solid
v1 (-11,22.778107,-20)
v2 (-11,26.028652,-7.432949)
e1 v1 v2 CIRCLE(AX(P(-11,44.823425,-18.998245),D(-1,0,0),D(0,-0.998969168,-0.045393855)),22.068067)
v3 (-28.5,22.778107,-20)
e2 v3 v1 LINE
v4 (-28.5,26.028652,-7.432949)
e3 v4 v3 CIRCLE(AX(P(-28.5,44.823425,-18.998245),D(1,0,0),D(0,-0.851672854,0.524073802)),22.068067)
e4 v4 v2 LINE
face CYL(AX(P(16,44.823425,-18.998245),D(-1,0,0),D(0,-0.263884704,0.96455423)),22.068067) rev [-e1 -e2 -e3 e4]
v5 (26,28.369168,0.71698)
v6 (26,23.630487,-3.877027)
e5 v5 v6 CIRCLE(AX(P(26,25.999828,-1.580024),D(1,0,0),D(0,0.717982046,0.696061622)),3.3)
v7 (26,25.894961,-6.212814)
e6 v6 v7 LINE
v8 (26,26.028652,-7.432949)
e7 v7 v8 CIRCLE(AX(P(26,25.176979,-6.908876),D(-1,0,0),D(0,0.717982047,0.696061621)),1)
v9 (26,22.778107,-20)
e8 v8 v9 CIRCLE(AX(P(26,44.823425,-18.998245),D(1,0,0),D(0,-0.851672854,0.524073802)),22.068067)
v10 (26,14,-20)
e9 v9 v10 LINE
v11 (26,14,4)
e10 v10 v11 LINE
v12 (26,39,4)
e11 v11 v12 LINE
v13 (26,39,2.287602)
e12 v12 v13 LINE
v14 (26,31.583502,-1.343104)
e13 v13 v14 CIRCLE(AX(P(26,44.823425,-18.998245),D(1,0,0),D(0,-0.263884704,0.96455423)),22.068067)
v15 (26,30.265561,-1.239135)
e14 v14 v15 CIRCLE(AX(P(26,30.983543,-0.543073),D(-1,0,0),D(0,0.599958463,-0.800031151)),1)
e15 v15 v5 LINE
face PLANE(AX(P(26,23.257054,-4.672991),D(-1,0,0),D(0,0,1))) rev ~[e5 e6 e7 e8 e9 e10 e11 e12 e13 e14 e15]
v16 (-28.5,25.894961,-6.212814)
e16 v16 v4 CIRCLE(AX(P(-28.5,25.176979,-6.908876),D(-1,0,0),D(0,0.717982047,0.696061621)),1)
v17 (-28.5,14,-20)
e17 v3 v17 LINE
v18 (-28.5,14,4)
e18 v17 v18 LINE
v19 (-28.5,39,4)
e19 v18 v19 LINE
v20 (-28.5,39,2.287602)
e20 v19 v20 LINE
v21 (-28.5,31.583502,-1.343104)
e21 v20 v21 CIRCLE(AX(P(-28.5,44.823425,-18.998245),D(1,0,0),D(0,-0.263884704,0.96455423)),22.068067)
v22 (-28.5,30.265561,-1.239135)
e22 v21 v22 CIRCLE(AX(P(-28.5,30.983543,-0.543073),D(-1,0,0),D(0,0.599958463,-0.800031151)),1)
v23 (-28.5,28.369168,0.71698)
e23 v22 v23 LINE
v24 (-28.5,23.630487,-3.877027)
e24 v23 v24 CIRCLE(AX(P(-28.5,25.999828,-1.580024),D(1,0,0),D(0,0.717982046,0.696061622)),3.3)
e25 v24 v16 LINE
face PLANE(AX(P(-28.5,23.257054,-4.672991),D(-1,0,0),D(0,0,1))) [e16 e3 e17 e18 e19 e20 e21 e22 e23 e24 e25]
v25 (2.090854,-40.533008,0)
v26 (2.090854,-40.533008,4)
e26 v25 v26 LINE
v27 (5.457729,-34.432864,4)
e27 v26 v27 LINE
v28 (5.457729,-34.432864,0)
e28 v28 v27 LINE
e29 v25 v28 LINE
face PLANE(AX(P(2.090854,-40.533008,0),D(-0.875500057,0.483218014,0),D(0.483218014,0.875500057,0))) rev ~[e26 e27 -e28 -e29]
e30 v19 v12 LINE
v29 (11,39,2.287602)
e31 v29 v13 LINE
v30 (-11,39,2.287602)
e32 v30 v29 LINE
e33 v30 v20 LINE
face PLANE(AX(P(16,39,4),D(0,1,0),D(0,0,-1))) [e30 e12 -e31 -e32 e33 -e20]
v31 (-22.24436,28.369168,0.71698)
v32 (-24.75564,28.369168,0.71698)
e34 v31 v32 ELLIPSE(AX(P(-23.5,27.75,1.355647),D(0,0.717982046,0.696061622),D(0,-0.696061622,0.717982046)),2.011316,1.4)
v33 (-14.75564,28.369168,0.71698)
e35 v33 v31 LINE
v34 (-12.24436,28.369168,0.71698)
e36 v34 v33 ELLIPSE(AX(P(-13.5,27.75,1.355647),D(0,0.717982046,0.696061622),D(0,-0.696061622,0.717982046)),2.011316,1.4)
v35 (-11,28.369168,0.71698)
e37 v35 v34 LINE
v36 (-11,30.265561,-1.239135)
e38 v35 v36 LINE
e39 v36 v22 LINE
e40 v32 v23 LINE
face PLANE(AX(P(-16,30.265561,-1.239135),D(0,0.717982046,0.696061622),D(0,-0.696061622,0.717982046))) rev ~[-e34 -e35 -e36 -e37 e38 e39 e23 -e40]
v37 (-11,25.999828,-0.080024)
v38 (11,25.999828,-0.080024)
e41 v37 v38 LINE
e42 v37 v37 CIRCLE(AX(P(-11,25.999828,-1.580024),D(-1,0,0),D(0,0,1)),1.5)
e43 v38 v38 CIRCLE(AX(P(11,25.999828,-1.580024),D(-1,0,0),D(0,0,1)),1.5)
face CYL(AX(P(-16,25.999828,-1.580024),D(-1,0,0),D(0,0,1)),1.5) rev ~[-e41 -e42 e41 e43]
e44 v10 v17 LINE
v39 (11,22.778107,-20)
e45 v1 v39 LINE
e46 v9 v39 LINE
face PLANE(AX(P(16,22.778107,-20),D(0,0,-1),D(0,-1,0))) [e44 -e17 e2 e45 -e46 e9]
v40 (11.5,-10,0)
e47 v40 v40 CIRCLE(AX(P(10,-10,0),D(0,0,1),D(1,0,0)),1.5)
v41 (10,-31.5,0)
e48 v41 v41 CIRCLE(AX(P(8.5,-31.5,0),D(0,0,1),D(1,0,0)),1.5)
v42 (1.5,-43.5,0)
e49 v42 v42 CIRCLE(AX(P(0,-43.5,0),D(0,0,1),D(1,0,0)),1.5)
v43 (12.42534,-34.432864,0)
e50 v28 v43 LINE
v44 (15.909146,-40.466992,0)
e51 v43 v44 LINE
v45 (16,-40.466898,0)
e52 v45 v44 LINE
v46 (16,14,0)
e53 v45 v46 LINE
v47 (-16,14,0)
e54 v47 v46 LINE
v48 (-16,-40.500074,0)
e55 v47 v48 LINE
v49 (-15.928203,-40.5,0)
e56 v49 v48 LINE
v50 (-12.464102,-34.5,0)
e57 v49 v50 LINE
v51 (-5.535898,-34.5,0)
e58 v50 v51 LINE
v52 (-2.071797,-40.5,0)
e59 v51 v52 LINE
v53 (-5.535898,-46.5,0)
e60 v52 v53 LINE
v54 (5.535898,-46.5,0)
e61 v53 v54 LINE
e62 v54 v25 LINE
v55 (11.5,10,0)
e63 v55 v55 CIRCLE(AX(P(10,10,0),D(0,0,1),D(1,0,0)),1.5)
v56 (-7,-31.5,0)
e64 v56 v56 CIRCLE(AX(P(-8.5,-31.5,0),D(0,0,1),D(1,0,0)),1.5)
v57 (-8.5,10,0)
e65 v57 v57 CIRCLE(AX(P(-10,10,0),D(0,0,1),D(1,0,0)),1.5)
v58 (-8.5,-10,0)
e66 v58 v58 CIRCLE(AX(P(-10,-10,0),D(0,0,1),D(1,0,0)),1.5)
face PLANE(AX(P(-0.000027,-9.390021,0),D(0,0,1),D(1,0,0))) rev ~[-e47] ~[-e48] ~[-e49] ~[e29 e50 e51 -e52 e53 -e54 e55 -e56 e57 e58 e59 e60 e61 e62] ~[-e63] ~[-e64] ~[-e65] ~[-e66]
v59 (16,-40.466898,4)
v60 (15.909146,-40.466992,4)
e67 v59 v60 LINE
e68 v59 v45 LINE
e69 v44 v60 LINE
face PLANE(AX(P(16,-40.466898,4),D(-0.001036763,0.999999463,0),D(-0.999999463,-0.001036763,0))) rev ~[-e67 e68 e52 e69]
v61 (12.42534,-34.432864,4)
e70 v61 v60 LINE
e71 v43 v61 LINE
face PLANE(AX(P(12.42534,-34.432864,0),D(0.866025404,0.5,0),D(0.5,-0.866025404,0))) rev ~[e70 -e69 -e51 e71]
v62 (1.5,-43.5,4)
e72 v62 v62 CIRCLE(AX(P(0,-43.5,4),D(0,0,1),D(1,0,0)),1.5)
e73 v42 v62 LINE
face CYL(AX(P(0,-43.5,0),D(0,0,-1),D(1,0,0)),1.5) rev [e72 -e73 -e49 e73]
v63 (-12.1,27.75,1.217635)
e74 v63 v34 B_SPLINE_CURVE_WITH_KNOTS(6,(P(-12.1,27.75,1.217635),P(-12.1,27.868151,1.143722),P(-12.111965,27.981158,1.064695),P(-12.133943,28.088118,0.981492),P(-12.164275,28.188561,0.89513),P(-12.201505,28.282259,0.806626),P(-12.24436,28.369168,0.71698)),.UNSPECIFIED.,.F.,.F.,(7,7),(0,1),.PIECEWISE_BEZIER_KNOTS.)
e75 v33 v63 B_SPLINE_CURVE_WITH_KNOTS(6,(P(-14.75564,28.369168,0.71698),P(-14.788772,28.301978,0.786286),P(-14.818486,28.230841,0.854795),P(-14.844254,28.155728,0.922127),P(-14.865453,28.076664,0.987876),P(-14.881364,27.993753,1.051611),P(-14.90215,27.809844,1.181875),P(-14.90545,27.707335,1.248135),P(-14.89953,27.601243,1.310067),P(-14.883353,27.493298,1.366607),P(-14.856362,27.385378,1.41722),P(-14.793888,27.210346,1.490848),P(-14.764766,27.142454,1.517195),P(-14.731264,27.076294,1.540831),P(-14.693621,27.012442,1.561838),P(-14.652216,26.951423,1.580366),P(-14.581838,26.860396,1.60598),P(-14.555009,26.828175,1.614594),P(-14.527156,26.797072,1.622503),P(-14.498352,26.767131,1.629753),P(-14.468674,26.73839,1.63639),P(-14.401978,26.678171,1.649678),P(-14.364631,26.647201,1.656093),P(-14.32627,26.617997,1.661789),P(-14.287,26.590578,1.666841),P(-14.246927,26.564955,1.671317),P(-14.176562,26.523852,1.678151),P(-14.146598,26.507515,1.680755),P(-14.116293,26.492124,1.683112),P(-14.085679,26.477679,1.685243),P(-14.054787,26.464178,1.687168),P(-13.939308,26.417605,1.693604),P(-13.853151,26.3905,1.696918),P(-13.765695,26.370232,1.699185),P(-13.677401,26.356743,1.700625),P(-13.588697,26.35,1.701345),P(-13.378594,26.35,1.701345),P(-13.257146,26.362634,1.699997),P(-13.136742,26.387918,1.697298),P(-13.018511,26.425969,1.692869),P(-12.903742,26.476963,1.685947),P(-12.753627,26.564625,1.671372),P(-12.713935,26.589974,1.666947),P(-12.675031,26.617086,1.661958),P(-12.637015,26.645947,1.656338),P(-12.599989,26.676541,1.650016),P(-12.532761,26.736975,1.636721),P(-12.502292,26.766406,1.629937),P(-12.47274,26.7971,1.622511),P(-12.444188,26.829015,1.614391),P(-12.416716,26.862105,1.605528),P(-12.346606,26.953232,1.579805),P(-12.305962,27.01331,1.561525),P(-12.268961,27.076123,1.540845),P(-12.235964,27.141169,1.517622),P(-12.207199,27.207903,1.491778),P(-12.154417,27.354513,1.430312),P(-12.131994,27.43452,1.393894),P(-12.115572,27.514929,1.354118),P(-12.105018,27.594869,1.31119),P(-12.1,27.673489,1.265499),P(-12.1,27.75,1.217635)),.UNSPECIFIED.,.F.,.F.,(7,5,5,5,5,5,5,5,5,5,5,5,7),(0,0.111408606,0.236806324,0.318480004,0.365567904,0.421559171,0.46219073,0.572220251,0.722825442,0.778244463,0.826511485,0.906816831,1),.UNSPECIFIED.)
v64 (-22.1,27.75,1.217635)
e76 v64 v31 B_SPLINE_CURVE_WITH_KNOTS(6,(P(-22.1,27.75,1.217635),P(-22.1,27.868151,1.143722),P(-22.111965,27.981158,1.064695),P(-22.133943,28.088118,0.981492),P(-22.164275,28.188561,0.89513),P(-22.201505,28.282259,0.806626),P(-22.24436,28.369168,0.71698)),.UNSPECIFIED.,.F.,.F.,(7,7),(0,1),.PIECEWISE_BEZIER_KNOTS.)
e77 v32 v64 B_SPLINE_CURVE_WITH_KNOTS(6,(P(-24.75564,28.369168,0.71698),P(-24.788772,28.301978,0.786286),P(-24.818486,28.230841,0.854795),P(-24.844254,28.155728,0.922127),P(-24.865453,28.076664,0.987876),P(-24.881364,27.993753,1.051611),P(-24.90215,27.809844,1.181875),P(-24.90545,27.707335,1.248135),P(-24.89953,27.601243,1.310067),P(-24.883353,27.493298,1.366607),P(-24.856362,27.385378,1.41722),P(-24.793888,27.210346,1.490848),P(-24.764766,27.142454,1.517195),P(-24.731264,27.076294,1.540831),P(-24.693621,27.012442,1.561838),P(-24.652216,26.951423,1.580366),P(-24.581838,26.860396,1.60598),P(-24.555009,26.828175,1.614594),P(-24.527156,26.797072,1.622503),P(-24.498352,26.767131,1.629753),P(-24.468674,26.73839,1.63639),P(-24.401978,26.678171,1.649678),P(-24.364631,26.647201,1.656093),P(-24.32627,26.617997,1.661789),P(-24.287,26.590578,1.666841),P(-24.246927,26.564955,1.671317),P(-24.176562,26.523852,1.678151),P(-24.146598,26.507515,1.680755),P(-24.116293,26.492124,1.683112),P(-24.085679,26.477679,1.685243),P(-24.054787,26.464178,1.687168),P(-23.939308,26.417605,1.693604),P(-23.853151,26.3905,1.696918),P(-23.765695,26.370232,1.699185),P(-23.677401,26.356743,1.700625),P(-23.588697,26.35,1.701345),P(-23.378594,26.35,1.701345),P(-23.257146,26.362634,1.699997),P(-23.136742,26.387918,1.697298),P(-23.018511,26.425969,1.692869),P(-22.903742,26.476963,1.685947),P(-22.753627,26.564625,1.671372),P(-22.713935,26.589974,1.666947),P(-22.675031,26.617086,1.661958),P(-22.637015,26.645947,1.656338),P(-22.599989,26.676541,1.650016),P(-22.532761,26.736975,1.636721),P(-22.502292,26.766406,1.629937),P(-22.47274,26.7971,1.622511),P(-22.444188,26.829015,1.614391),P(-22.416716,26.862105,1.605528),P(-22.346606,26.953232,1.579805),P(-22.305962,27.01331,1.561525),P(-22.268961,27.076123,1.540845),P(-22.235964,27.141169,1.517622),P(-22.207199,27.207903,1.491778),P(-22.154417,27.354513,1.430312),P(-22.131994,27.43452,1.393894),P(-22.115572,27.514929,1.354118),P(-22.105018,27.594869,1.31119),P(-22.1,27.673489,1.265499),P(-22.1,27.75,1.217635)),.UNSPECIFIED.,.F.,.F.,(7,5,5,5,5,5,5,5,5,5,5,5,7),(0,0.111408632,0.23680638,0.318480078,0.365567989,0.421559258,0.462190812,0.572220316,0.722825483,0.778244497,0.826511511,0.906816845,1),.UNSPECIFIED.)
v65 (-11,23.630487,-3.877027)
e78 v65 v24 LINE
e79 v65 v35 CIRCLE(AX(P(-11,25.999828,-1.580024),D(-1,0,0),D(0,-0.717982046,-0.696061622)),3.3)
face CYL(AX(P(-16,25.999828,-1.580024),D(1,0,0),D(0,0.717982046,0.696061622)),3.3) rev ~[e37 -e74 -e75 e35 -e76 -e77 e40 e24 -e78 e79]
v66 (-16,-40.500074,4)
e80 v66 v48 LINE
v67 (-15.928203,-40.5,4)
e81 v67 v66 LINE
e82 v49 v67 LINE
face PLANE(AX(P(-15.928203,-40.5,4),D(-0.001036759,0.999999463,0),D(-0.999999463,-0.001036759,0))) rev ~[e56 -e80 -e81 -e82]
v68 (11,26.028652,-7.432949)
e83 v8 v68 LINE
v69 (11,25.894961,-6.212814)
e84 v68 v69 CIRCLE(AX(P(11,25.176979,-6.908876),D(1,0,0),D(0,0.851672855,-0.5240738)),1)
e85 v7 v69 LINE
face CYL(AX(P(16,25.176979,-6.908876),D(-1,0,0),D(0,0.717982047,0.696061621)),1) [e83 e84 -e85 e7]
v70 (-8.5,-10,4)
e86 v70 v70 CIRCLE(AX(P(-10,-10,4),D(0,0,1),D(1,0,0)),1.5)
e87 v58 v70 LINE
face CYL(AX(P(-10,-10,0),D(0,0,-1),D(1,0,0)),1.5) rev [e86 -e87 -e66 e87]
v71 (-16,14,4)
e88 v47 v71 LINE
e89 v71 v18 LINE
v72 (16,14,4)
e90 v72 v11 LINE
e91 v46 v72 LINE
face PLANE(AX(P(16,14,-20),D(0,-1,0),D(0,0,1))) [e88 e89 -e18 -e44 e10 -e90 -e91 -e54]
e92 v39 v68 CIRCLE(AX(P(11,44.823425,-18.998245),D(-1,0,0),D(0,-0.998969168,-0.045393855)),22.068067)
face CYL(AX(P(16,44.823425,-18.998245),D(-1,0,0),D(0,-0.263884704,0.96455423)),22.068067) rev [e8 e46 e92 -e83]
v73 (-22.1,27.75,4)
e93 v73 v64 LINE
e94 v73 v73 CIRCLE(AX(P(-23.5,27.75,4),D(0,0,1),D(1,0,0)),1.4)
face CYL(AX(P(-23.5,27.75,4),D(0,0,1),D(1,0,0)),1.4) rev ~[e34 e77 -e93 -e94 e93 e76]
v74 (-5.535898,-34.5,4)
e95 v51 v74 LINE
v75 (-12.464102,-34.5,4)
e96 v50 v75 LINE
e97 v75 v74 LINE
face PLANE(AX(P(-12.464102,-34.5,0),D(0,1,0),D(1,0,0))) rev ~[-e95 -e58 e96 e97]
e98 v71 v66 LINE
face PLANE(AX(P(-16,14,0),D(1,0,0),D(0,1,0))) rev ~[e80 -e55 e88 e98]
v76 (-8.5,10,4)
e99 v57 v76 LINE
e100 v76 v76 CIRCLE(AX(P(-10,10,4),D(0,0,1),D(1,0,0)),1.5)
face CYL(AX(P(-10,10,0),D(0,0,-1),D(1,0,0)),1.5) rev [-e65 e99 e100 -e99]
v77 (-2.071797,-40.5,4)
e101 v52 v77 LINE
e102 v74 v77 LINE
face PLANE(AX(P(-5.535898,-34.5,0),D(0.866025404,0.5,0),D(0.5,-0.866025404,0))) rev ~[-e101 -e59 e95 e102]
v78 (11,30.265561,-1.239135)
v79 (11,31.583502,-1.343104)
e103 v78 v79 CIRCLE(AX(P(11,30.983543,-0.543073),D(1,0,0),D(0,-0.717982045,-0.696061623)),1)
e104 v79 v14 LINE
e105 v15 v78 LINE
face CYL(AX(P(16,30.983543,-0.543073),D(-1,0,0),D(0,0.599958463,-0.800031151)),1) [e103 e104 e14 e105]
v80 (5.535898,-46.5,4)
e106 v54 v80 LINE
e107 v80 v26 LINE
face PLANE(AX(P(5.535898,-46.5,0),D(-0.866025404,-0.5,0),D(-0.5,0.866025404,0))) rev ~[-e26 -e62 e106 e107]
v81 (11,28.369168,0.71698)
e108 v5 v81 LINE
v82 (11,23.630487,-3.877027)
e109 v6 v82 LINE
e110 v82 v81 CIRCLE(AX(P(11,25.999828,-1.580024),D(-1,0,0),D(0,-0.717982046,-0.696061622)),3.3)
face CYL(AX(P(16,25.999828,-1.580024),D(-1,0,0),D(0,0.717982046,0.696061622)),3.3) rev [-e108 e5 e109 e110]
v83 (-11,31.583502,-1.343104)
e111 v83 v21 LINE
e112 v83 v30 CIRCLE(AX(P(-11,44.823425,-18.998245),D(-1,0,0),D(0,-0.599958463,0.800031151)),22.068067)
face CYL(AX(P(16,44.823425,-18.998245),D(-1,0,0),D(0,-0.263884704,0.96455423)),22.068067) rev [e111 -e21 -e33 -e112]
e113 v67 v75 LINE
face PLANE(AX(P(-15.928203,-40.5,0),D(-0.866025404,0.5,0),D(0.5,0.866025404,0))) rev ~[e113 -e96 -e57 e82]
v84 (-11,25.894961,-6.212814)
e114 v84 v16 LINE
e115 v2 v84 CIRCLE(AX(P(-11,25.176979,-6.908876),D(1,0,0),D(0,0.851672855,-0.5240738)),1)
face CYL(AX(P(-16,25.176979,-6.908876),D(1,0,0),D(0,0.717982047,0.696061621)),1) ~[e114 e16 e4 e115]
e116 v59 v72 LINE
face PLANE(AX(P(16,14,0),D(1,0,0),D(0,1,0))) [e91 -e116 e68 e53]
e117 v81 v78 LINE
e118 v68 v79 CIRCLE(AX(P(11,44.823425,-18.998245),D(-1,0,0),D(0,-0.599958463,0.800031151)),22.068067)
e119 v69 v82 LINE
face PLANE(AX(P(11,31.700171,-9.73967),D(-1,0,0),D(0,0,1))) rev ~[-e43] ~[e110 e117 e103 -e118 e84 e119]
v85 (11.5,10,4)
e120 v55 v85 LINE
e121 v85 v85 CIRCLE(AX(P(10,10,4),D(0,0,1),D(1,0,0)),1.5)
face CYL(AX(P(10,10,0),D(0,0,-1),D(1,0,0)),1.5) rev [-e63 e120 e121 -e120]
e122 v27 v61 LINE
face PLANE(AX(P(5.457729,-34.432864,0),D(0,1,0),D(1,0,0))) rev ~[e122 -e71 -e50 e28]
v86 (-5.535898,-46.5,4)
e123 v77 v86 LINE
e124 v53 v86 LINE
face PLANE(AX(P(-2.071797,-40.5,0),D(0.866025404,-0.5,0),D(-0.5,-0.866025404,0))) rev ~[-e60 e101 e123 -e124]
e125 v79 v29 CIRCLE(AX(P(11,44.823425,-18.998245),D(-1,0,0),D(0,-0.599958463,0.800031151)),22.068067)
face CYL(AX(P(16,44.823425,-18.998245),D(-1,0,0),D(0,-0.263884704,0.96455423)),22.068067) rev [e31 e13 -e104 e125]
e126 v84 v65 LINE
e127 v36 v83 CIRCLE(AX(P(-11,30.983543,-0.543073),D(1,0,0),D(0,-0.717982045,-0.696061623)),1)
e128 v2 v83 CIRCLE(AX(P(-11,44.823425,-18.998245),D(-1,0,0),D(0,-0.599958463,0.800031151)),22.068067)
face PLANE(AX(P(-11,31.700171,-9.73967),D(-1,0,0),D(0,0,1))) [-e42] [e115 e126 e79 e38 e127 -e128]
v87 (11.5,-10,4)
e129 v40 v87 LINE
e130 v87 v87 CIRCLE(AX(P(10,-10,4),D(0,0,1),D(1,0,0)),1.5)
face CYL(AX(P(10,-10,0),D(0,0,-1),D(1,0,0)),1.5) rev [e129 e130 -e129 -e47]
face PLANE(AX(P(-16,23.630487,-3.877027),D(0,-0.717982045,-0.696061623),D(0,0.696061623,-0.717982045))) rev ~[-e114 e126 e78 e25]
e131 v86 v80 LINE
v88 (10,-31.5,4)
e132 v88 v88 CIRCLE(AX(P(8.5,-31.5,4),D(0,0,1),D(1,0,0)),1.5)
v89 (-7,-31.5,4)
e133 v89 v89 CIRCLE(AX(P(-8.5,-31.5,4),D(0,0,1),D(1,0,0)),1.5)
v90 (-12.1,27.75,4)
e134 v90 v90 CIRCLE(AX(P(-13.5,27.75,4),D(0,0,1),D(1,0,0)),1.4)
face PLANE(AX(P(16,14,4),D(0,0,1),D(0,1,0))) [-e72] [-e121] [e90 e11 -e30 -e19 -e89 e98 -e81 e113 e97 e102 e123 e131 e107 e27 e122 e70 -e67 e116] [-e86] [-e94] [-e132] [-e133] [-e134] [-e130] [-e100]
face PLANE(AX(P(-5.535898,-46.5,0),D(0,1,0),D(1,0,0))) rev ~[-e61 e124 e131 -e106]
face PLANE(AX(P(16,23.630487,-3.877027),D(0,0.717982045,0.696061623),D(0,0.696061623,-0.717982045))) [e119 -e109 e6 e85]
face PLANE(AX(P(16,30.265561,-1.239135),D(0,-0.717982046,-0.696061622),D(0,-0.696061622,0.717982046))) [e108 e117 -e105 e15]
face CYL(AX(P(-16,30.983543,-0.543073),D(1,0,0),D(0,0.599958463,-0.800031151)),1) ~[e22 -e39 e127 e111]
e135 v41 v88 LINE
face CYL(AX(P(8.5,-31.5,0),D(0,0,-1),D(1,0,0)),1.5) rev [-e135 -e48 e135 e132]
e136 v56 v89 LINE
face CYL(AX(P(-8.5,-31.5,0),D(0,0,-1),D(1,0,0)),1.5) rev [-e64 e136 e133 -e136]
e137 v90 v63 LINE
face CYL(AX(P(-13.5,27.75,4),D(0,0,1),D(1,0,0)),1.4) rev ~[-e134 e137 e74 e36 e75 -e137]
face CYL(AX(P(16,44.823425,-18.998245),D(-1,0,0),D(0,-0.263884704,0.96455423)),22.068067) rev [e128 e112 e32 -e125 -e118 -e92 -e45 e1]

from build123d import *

# Parameters (mm, degrees)
SKETCH1_R               = 1.500000001
SKETCH1_R_2             = 1.5
BOSS_EXTRUDE2_DEPTH     = 4
SKETCH1_4_W             = 32
SKETCH1_4_H             = 25
SKETCH1_4_R             = 6.100000001
BOSS_EXTRUDE3_DEPTH     = 20
SKETCH2_R               = 1.5
CUT_EXTRUDE3_DEPTH      = 1
CUT_EXTRUDE3_DEPTH_BACK = 33
CUT_EXTRUDE4_DEPTH      = 5
CUT_EXTRUDE5_START      = -32
CUT_EXTRUDE5_DEPTH      = 5
CUT_EXTRUDE6_DEPTH      = 25
BOSS_EXTRUDE5_DEPTH     = 12.5
CUT_EXTRUDE7_REACH      = 26
SKETCH7_R               = 1.4
BOSS_EXTRUDE6_START     = -32
BOSS_EXTRUDE6_DEPTH     = 10
CUT_EXTRUDE8_DEPTH      = 43


with BuildPart() as part:
    # Sketch1 → Boss-Extrude2 (new body)
    with BuildSketch(Plane.XY):
        Polygon((-16, 39), (-16, -46.5), (-14.969293645, -46.5), (-14.969293645, -42.160880121), (-15.92820323, -40.5), (-12.464101615, -34.5), (-5.535898385, -34.5), (-2.07179677, -40.5), (-5.535898385, -46.5), (5.535898385, -46.5), (2.090853862, -40.533007852), (5.457729166, -34.432863746), (12.425340481, -34.432863746), (15.909146138, -40.466992148), (15, -42.114193768), (15, -46.5), (16, -46.5), (16, 39), align=None)
        with Locations((10, 10)):
            Circle(SKETCH1_R, mode=Mode.SUBTRACT)
        with Locations((-10, -10)):
            Circle(SKETCH1_R, mode=Mode.SUBTRACT)
        with Locations((10, -10)):
            Circle(SKETCH1_R, mode=Mode.SUBTRACT)
        with Locations((-10, 10)):
            Circle(SKETCH1_R, mode=Mode.SUBTRACT)
        with Locations((0, -43.5)):
            Circle(SKETCH1_R_2, mode=Mode.SUBTRACT)
        with Locations((-8.5, -31.5)):
            Circle(SKETCH1_R_2, mode=Mode.SUBTRACT)
        with Locations((8.5, -31.5)):
            Circle(SKETCH1_R_2, mode=Mode.SUBTRACT)
    extrude(amount=BOSS_EXTRUDE2_DEPTH)

    # Sketch1<4> → Boss-Extrude3 (add)
    with BuildSketch(Plane.XY):
        with Locations((0, 26.5)):
            Rectangle(SKETCH1_4_W, SKETCH1_4_H)
        Polygon((0, 36.969655115), (9.5, 31.484827557), (9.5, 20.515172443), (0, 15.030344885), (-9.5, 20.515172443), (-9.5, 31.484827557), align=None, mode=Mode.SUBTRACT)
        Polygon((9.5, 31.484827557), (9.5, 20.515172443), (0, 15.030344885), (-9.5, 20.515172443), (-9.5, 31.484827557), (0, 36.969655115), align=None)
        with Locations((0, 26)):
            Circle(SKETCH1_4_R, mode=Mode.SUBTRACT)
        with Locations((0, 26)):
            Circle(SKETCH1_4_R)
    extrude(amount=-BOSS_EXTRUDE3_DEPTH)

    # Sketch2 → Cut-Extrude3 (cut, two sides)
    with BuildSketch(Plane.ZY.offset(16)) as cut_extrude3_sk:
        with Locations((-1.580023732, 25.999827557)):
            Circle(SKETCH2_R)
    extrude(amount=CUT_EXTRUDE3_DEPTH, mode=Mode.SUBTRACT)
    extrude(cut_extrude3_sk.sketch, amount=-CUT_EXTRUDE3_DEPTH_BACK, mode=Mode.SUBTRACT)

    # Sketch3 → Cut-Extrude4 (cut)
    with BuildSketch(Plane.ZY.offset(16)):
        with BuildLine():
            Line((0.716979622, 28.369168308), (-1.239134605, 30.265561192))
            ThreePointArc((-1.239134605, 30.265561192), (-1.539975782, 30.904899692), (-1.343104133, 31.583501701))
            ThreePointArc((-1.343104133, 31.583501701), (0.822230527, 35.120419324), (2.287602236, 39))
            Line((2.287602236, 39), (-20, 39))
            Line((-20, 39), (-20, 22.778106647))
            ThreePointArc((-20, 22.778106647), (-13.472070231, 23.458477945), (-7.432949471, 26.028651597))
            ThreePointArc((-7.432949471, 26.028651597), (-6.799957072, 26.171029415), (-6.212814046, 25.894960789))
            Line((-6.212814046, 25.894960789), (-3.877027086, 23.630486807))
            Line((-3.877027086, 23.630486807), (0.716979622, 28.369168308))
        make_face()
        with BuildLine():
            ThreePointArc((-3.877027086, 23.630486807), (0.789317018, 23.702824203), (0.716979622, 28.369168308))
            Line((0.716979622, 28.369168308), (-3.877027086, 23.630486807))
        make_face()
    extrude(amount=-CUT_EXTRUDE4_DEPTH, mode=Mode.SUBTRACT)

    # Sketch3<4> → Cut-Extrude5 (cut)
    with BuildSketch(Plane.ZY.offset(16).offset(CUT_EXTRUDE5_START)):
        with BuildLine():
            Line((0.716979622, 28.369168308), (-1.239134605, 30.265561192))
            ThreePointArc((-1.239134605, 30.265561192), (-1.539975782, 30.904899692), (-1.343104133, 31.583501701))
            ThreePointArc((-1.343104133, 31.583501701), (0.822230527, 35.120419324), (2.287602236, 39))
            Line((2.287602236, 39), (-20, 39))
            Line((-20, 39), (-20, 22.778106647))
            ThreePointArc((-20, 22.778106647), (-13.472070231, 23.458477945), (-7.432949471, 26.028651597))
            ThreePointArc((-7.432949471, 26.028651597), (-6.799957072, 26.171029415), (-6.212814046, 25.894960789))
            Line((-6.212814046, 25.894960789), (-3.877027086, 23.630486807))
            Line((-3.877027086, 23.630486807), (0.716979622, 28.369168308))
        make_face()
        with BuildLine():
            ThreePointArc((-3.877027086, 23.630486807), (0.789317018, 23.702824203), (0.716979622, 28.369168308))
            Line((0.716979622, 28.369168308), (-3.877027086, 23.630486807))
        make_face()
    extrude(amount=CUT_EXTRUDE5_DEPTH, mode=Mode.SUBTRACT)

    # Sketch5 → Cut-Extrude6 (cut, through all)
    with BuildSketch(Plane.XY.offset(4)):
        Polygon((-14.969293645, -42.160880121), (-15.92820323, -40.5), (-16, -40.500074436), (-16, -46.5), (-14.969293645, -46.5), align=None)
        Polygon((15, -42.114193768), (15.909146138, -40.466992148), (10.36687247, -40.472738184), (10.36687247, -46.5), (15, -46.5), align=None)
        Polygon((16, -40.466897954), (15.909146138, -40.466992148), (15, -42.114193768), (15, -46.5), (16, -46.5), align=None)
        Polygon((17.825288522, -40.465005559), (16, -40.466897954), (16, -46.5), (17.916172301, -46.5), align=None)
    extrude(amount=-CUT_EXTRUDE6_DEPTH, mode=Mode.SUBTRACT)

    # Sketch8 → Boss-Extrude5 (add)
    with BuildSketch(Plane.ZY.offset(16)):
        with BuildLine():
            ThreePointArc((-1.343104133, 31.583501701), (-1.539975782, 30.904899692), (-1.239134605, 30.265561192))
            Line((-1.239134605, 30.265561192), (0.716979622, 28.369168308))
            ThreePointArc((0.716979622, 28.369168308), (0.789317018, 23.702824203), (-3.877027086, 23.630486807))
            Line((-3.877027086, 23.630486807), (-6.212814046, 25.894960789))
            ThreePointArc((-6.212814046, 25.894960789), (-6.799957072, 26.171029415), (-7.432949471, 26.028651597))
            ThreePointArc((-7.432949471, 26.028651597), (-13.472070231, 23.458477945), (-20, 22.778106647))
            Line((-20, 22.778106647), (-20, 14))
            Line((-20, 14), (0, 14))
            Line((0, 14), (4, 14))
            Line((4, 14), (4, 39))
            Line((4, 39), (2.287602236, 39))
            ThreePointArc((2.287602236, 39), (0.822230527, 35.120419324), (-1.343104133, 31.583501701))
        make_face()
    extrude(amount=BOSS_EXTRUDE5_DEPTH)

    # Sketch7 → Cut-Extrude7 (cut, up to next)
    with BuildSketch(Plane.XY.offset(4), mode=Mode.PRIVATE) as cut_extrude7_sk1:
        with Locations((-23.5, 27.75)):
            Circle(SKETCH7_R)
    cut_extrude7_tool1 = extrude(cut_extrude7_sk1.sketch, amount=-CUT_EXTRUDE7_REACH, mode=Mode.PRIVATE) & part.part
    add(cut_extrude7_tool1.solids().sort_by_distance((-23.5, 27.75, 4))[0], mode=Mode.SUBTRACT)
    # Sketch7 → Cut-Extrude7 (cut, up to next)
    with BuildSketch(Plane.XY.offset(4), mode=Mode.PRIVATE) as cut_extrude7_sk2:
        with Locations((-13.5, 27.75)):
            Circle(SKETCH7_R)
    cut_extrude7_tool2 = extrude(cut_extrude7_sk2.sketch, amount=-CUT_EXTRUDE7_REACH, mode=Mode.PRIVATE) & part.part
    add(cut_extrude7_tool2.solids().sort_by_distance((-13.5, 27.75, 4))[0], mode=Mode.SUBTRACT)

    # Sketch8<3> → Boss-Extrude6 (add)
    with BuildSketch(Plane.ZY.offset(16).offset(BOSS_EXTRUDE6_START)):
        with BuildLine():
            ThreePointArc((-1.343104133, 31.583501701), (-1.539975782, 30.904899692), (-1.239134605, 30.265561192))
            Line((-1.239134605, 30.265561192), (0.716979622, 28.369168308))
            ThreePointArc((0.716979622, 28.369168308), (0.789317018, 23.702824203), (-3.877027086, 23.630486807))
            Line((-3.877027086, 23.630486807), (-6.212814046, 25.894960789))
            ThreePointArc((-6.212814046, 25.894960789), (-6.799957072, 26.171029415), (-7.432949471, 26.028651597))
            ThreePointArc((-7.432949471, 26.028651597), (-13.472070231, 23.458477945), (-20, 22.778106647))
            Line((-20, 22.778106647), (-20, 14))
            Line((-20, 14), (0, 14))
            Line((0, 14), (4, 14))
            Line((4, 14), (4, 39))
            Line((4, 39), (2.287602236, 39))
            ThreePointArc((2.287602236, 39), (0.822230527, 35.120419324), (-1.343104133, 31.583501701))
        make_face()
    extrude(amount=-BOSS_EXTRUDE6_DEPTH)

    # Sketch8<4> → Cut-Extrude8 (cut, through all)
    with BuildSketch(Plane.ZY.offset(16)):
        with BuildLine():
            ThreePointArc((-1.343104133, 31.583501701), (-4.126373378, 28.519223025), (-7.432949471, 26.028651597))
            ThreePointArc((-7.432949471, 26.028651597), (-13.472070231, 23.458477945), (-20, 22.778106647))
            Line((-20, 22.778106647), (-20, 39))
            Line((-20, 39), (2.287602236, 39))
            ThreePointArc((2.287602236, 39), (0.822230527, 35.120419324), (-1.343104133, 31.583501701))
        make_face()
    extrude(amount=-CUT_EXTRUDE8_DEPTH, mode=Mode.SUBTRACT)


solid = part.part
